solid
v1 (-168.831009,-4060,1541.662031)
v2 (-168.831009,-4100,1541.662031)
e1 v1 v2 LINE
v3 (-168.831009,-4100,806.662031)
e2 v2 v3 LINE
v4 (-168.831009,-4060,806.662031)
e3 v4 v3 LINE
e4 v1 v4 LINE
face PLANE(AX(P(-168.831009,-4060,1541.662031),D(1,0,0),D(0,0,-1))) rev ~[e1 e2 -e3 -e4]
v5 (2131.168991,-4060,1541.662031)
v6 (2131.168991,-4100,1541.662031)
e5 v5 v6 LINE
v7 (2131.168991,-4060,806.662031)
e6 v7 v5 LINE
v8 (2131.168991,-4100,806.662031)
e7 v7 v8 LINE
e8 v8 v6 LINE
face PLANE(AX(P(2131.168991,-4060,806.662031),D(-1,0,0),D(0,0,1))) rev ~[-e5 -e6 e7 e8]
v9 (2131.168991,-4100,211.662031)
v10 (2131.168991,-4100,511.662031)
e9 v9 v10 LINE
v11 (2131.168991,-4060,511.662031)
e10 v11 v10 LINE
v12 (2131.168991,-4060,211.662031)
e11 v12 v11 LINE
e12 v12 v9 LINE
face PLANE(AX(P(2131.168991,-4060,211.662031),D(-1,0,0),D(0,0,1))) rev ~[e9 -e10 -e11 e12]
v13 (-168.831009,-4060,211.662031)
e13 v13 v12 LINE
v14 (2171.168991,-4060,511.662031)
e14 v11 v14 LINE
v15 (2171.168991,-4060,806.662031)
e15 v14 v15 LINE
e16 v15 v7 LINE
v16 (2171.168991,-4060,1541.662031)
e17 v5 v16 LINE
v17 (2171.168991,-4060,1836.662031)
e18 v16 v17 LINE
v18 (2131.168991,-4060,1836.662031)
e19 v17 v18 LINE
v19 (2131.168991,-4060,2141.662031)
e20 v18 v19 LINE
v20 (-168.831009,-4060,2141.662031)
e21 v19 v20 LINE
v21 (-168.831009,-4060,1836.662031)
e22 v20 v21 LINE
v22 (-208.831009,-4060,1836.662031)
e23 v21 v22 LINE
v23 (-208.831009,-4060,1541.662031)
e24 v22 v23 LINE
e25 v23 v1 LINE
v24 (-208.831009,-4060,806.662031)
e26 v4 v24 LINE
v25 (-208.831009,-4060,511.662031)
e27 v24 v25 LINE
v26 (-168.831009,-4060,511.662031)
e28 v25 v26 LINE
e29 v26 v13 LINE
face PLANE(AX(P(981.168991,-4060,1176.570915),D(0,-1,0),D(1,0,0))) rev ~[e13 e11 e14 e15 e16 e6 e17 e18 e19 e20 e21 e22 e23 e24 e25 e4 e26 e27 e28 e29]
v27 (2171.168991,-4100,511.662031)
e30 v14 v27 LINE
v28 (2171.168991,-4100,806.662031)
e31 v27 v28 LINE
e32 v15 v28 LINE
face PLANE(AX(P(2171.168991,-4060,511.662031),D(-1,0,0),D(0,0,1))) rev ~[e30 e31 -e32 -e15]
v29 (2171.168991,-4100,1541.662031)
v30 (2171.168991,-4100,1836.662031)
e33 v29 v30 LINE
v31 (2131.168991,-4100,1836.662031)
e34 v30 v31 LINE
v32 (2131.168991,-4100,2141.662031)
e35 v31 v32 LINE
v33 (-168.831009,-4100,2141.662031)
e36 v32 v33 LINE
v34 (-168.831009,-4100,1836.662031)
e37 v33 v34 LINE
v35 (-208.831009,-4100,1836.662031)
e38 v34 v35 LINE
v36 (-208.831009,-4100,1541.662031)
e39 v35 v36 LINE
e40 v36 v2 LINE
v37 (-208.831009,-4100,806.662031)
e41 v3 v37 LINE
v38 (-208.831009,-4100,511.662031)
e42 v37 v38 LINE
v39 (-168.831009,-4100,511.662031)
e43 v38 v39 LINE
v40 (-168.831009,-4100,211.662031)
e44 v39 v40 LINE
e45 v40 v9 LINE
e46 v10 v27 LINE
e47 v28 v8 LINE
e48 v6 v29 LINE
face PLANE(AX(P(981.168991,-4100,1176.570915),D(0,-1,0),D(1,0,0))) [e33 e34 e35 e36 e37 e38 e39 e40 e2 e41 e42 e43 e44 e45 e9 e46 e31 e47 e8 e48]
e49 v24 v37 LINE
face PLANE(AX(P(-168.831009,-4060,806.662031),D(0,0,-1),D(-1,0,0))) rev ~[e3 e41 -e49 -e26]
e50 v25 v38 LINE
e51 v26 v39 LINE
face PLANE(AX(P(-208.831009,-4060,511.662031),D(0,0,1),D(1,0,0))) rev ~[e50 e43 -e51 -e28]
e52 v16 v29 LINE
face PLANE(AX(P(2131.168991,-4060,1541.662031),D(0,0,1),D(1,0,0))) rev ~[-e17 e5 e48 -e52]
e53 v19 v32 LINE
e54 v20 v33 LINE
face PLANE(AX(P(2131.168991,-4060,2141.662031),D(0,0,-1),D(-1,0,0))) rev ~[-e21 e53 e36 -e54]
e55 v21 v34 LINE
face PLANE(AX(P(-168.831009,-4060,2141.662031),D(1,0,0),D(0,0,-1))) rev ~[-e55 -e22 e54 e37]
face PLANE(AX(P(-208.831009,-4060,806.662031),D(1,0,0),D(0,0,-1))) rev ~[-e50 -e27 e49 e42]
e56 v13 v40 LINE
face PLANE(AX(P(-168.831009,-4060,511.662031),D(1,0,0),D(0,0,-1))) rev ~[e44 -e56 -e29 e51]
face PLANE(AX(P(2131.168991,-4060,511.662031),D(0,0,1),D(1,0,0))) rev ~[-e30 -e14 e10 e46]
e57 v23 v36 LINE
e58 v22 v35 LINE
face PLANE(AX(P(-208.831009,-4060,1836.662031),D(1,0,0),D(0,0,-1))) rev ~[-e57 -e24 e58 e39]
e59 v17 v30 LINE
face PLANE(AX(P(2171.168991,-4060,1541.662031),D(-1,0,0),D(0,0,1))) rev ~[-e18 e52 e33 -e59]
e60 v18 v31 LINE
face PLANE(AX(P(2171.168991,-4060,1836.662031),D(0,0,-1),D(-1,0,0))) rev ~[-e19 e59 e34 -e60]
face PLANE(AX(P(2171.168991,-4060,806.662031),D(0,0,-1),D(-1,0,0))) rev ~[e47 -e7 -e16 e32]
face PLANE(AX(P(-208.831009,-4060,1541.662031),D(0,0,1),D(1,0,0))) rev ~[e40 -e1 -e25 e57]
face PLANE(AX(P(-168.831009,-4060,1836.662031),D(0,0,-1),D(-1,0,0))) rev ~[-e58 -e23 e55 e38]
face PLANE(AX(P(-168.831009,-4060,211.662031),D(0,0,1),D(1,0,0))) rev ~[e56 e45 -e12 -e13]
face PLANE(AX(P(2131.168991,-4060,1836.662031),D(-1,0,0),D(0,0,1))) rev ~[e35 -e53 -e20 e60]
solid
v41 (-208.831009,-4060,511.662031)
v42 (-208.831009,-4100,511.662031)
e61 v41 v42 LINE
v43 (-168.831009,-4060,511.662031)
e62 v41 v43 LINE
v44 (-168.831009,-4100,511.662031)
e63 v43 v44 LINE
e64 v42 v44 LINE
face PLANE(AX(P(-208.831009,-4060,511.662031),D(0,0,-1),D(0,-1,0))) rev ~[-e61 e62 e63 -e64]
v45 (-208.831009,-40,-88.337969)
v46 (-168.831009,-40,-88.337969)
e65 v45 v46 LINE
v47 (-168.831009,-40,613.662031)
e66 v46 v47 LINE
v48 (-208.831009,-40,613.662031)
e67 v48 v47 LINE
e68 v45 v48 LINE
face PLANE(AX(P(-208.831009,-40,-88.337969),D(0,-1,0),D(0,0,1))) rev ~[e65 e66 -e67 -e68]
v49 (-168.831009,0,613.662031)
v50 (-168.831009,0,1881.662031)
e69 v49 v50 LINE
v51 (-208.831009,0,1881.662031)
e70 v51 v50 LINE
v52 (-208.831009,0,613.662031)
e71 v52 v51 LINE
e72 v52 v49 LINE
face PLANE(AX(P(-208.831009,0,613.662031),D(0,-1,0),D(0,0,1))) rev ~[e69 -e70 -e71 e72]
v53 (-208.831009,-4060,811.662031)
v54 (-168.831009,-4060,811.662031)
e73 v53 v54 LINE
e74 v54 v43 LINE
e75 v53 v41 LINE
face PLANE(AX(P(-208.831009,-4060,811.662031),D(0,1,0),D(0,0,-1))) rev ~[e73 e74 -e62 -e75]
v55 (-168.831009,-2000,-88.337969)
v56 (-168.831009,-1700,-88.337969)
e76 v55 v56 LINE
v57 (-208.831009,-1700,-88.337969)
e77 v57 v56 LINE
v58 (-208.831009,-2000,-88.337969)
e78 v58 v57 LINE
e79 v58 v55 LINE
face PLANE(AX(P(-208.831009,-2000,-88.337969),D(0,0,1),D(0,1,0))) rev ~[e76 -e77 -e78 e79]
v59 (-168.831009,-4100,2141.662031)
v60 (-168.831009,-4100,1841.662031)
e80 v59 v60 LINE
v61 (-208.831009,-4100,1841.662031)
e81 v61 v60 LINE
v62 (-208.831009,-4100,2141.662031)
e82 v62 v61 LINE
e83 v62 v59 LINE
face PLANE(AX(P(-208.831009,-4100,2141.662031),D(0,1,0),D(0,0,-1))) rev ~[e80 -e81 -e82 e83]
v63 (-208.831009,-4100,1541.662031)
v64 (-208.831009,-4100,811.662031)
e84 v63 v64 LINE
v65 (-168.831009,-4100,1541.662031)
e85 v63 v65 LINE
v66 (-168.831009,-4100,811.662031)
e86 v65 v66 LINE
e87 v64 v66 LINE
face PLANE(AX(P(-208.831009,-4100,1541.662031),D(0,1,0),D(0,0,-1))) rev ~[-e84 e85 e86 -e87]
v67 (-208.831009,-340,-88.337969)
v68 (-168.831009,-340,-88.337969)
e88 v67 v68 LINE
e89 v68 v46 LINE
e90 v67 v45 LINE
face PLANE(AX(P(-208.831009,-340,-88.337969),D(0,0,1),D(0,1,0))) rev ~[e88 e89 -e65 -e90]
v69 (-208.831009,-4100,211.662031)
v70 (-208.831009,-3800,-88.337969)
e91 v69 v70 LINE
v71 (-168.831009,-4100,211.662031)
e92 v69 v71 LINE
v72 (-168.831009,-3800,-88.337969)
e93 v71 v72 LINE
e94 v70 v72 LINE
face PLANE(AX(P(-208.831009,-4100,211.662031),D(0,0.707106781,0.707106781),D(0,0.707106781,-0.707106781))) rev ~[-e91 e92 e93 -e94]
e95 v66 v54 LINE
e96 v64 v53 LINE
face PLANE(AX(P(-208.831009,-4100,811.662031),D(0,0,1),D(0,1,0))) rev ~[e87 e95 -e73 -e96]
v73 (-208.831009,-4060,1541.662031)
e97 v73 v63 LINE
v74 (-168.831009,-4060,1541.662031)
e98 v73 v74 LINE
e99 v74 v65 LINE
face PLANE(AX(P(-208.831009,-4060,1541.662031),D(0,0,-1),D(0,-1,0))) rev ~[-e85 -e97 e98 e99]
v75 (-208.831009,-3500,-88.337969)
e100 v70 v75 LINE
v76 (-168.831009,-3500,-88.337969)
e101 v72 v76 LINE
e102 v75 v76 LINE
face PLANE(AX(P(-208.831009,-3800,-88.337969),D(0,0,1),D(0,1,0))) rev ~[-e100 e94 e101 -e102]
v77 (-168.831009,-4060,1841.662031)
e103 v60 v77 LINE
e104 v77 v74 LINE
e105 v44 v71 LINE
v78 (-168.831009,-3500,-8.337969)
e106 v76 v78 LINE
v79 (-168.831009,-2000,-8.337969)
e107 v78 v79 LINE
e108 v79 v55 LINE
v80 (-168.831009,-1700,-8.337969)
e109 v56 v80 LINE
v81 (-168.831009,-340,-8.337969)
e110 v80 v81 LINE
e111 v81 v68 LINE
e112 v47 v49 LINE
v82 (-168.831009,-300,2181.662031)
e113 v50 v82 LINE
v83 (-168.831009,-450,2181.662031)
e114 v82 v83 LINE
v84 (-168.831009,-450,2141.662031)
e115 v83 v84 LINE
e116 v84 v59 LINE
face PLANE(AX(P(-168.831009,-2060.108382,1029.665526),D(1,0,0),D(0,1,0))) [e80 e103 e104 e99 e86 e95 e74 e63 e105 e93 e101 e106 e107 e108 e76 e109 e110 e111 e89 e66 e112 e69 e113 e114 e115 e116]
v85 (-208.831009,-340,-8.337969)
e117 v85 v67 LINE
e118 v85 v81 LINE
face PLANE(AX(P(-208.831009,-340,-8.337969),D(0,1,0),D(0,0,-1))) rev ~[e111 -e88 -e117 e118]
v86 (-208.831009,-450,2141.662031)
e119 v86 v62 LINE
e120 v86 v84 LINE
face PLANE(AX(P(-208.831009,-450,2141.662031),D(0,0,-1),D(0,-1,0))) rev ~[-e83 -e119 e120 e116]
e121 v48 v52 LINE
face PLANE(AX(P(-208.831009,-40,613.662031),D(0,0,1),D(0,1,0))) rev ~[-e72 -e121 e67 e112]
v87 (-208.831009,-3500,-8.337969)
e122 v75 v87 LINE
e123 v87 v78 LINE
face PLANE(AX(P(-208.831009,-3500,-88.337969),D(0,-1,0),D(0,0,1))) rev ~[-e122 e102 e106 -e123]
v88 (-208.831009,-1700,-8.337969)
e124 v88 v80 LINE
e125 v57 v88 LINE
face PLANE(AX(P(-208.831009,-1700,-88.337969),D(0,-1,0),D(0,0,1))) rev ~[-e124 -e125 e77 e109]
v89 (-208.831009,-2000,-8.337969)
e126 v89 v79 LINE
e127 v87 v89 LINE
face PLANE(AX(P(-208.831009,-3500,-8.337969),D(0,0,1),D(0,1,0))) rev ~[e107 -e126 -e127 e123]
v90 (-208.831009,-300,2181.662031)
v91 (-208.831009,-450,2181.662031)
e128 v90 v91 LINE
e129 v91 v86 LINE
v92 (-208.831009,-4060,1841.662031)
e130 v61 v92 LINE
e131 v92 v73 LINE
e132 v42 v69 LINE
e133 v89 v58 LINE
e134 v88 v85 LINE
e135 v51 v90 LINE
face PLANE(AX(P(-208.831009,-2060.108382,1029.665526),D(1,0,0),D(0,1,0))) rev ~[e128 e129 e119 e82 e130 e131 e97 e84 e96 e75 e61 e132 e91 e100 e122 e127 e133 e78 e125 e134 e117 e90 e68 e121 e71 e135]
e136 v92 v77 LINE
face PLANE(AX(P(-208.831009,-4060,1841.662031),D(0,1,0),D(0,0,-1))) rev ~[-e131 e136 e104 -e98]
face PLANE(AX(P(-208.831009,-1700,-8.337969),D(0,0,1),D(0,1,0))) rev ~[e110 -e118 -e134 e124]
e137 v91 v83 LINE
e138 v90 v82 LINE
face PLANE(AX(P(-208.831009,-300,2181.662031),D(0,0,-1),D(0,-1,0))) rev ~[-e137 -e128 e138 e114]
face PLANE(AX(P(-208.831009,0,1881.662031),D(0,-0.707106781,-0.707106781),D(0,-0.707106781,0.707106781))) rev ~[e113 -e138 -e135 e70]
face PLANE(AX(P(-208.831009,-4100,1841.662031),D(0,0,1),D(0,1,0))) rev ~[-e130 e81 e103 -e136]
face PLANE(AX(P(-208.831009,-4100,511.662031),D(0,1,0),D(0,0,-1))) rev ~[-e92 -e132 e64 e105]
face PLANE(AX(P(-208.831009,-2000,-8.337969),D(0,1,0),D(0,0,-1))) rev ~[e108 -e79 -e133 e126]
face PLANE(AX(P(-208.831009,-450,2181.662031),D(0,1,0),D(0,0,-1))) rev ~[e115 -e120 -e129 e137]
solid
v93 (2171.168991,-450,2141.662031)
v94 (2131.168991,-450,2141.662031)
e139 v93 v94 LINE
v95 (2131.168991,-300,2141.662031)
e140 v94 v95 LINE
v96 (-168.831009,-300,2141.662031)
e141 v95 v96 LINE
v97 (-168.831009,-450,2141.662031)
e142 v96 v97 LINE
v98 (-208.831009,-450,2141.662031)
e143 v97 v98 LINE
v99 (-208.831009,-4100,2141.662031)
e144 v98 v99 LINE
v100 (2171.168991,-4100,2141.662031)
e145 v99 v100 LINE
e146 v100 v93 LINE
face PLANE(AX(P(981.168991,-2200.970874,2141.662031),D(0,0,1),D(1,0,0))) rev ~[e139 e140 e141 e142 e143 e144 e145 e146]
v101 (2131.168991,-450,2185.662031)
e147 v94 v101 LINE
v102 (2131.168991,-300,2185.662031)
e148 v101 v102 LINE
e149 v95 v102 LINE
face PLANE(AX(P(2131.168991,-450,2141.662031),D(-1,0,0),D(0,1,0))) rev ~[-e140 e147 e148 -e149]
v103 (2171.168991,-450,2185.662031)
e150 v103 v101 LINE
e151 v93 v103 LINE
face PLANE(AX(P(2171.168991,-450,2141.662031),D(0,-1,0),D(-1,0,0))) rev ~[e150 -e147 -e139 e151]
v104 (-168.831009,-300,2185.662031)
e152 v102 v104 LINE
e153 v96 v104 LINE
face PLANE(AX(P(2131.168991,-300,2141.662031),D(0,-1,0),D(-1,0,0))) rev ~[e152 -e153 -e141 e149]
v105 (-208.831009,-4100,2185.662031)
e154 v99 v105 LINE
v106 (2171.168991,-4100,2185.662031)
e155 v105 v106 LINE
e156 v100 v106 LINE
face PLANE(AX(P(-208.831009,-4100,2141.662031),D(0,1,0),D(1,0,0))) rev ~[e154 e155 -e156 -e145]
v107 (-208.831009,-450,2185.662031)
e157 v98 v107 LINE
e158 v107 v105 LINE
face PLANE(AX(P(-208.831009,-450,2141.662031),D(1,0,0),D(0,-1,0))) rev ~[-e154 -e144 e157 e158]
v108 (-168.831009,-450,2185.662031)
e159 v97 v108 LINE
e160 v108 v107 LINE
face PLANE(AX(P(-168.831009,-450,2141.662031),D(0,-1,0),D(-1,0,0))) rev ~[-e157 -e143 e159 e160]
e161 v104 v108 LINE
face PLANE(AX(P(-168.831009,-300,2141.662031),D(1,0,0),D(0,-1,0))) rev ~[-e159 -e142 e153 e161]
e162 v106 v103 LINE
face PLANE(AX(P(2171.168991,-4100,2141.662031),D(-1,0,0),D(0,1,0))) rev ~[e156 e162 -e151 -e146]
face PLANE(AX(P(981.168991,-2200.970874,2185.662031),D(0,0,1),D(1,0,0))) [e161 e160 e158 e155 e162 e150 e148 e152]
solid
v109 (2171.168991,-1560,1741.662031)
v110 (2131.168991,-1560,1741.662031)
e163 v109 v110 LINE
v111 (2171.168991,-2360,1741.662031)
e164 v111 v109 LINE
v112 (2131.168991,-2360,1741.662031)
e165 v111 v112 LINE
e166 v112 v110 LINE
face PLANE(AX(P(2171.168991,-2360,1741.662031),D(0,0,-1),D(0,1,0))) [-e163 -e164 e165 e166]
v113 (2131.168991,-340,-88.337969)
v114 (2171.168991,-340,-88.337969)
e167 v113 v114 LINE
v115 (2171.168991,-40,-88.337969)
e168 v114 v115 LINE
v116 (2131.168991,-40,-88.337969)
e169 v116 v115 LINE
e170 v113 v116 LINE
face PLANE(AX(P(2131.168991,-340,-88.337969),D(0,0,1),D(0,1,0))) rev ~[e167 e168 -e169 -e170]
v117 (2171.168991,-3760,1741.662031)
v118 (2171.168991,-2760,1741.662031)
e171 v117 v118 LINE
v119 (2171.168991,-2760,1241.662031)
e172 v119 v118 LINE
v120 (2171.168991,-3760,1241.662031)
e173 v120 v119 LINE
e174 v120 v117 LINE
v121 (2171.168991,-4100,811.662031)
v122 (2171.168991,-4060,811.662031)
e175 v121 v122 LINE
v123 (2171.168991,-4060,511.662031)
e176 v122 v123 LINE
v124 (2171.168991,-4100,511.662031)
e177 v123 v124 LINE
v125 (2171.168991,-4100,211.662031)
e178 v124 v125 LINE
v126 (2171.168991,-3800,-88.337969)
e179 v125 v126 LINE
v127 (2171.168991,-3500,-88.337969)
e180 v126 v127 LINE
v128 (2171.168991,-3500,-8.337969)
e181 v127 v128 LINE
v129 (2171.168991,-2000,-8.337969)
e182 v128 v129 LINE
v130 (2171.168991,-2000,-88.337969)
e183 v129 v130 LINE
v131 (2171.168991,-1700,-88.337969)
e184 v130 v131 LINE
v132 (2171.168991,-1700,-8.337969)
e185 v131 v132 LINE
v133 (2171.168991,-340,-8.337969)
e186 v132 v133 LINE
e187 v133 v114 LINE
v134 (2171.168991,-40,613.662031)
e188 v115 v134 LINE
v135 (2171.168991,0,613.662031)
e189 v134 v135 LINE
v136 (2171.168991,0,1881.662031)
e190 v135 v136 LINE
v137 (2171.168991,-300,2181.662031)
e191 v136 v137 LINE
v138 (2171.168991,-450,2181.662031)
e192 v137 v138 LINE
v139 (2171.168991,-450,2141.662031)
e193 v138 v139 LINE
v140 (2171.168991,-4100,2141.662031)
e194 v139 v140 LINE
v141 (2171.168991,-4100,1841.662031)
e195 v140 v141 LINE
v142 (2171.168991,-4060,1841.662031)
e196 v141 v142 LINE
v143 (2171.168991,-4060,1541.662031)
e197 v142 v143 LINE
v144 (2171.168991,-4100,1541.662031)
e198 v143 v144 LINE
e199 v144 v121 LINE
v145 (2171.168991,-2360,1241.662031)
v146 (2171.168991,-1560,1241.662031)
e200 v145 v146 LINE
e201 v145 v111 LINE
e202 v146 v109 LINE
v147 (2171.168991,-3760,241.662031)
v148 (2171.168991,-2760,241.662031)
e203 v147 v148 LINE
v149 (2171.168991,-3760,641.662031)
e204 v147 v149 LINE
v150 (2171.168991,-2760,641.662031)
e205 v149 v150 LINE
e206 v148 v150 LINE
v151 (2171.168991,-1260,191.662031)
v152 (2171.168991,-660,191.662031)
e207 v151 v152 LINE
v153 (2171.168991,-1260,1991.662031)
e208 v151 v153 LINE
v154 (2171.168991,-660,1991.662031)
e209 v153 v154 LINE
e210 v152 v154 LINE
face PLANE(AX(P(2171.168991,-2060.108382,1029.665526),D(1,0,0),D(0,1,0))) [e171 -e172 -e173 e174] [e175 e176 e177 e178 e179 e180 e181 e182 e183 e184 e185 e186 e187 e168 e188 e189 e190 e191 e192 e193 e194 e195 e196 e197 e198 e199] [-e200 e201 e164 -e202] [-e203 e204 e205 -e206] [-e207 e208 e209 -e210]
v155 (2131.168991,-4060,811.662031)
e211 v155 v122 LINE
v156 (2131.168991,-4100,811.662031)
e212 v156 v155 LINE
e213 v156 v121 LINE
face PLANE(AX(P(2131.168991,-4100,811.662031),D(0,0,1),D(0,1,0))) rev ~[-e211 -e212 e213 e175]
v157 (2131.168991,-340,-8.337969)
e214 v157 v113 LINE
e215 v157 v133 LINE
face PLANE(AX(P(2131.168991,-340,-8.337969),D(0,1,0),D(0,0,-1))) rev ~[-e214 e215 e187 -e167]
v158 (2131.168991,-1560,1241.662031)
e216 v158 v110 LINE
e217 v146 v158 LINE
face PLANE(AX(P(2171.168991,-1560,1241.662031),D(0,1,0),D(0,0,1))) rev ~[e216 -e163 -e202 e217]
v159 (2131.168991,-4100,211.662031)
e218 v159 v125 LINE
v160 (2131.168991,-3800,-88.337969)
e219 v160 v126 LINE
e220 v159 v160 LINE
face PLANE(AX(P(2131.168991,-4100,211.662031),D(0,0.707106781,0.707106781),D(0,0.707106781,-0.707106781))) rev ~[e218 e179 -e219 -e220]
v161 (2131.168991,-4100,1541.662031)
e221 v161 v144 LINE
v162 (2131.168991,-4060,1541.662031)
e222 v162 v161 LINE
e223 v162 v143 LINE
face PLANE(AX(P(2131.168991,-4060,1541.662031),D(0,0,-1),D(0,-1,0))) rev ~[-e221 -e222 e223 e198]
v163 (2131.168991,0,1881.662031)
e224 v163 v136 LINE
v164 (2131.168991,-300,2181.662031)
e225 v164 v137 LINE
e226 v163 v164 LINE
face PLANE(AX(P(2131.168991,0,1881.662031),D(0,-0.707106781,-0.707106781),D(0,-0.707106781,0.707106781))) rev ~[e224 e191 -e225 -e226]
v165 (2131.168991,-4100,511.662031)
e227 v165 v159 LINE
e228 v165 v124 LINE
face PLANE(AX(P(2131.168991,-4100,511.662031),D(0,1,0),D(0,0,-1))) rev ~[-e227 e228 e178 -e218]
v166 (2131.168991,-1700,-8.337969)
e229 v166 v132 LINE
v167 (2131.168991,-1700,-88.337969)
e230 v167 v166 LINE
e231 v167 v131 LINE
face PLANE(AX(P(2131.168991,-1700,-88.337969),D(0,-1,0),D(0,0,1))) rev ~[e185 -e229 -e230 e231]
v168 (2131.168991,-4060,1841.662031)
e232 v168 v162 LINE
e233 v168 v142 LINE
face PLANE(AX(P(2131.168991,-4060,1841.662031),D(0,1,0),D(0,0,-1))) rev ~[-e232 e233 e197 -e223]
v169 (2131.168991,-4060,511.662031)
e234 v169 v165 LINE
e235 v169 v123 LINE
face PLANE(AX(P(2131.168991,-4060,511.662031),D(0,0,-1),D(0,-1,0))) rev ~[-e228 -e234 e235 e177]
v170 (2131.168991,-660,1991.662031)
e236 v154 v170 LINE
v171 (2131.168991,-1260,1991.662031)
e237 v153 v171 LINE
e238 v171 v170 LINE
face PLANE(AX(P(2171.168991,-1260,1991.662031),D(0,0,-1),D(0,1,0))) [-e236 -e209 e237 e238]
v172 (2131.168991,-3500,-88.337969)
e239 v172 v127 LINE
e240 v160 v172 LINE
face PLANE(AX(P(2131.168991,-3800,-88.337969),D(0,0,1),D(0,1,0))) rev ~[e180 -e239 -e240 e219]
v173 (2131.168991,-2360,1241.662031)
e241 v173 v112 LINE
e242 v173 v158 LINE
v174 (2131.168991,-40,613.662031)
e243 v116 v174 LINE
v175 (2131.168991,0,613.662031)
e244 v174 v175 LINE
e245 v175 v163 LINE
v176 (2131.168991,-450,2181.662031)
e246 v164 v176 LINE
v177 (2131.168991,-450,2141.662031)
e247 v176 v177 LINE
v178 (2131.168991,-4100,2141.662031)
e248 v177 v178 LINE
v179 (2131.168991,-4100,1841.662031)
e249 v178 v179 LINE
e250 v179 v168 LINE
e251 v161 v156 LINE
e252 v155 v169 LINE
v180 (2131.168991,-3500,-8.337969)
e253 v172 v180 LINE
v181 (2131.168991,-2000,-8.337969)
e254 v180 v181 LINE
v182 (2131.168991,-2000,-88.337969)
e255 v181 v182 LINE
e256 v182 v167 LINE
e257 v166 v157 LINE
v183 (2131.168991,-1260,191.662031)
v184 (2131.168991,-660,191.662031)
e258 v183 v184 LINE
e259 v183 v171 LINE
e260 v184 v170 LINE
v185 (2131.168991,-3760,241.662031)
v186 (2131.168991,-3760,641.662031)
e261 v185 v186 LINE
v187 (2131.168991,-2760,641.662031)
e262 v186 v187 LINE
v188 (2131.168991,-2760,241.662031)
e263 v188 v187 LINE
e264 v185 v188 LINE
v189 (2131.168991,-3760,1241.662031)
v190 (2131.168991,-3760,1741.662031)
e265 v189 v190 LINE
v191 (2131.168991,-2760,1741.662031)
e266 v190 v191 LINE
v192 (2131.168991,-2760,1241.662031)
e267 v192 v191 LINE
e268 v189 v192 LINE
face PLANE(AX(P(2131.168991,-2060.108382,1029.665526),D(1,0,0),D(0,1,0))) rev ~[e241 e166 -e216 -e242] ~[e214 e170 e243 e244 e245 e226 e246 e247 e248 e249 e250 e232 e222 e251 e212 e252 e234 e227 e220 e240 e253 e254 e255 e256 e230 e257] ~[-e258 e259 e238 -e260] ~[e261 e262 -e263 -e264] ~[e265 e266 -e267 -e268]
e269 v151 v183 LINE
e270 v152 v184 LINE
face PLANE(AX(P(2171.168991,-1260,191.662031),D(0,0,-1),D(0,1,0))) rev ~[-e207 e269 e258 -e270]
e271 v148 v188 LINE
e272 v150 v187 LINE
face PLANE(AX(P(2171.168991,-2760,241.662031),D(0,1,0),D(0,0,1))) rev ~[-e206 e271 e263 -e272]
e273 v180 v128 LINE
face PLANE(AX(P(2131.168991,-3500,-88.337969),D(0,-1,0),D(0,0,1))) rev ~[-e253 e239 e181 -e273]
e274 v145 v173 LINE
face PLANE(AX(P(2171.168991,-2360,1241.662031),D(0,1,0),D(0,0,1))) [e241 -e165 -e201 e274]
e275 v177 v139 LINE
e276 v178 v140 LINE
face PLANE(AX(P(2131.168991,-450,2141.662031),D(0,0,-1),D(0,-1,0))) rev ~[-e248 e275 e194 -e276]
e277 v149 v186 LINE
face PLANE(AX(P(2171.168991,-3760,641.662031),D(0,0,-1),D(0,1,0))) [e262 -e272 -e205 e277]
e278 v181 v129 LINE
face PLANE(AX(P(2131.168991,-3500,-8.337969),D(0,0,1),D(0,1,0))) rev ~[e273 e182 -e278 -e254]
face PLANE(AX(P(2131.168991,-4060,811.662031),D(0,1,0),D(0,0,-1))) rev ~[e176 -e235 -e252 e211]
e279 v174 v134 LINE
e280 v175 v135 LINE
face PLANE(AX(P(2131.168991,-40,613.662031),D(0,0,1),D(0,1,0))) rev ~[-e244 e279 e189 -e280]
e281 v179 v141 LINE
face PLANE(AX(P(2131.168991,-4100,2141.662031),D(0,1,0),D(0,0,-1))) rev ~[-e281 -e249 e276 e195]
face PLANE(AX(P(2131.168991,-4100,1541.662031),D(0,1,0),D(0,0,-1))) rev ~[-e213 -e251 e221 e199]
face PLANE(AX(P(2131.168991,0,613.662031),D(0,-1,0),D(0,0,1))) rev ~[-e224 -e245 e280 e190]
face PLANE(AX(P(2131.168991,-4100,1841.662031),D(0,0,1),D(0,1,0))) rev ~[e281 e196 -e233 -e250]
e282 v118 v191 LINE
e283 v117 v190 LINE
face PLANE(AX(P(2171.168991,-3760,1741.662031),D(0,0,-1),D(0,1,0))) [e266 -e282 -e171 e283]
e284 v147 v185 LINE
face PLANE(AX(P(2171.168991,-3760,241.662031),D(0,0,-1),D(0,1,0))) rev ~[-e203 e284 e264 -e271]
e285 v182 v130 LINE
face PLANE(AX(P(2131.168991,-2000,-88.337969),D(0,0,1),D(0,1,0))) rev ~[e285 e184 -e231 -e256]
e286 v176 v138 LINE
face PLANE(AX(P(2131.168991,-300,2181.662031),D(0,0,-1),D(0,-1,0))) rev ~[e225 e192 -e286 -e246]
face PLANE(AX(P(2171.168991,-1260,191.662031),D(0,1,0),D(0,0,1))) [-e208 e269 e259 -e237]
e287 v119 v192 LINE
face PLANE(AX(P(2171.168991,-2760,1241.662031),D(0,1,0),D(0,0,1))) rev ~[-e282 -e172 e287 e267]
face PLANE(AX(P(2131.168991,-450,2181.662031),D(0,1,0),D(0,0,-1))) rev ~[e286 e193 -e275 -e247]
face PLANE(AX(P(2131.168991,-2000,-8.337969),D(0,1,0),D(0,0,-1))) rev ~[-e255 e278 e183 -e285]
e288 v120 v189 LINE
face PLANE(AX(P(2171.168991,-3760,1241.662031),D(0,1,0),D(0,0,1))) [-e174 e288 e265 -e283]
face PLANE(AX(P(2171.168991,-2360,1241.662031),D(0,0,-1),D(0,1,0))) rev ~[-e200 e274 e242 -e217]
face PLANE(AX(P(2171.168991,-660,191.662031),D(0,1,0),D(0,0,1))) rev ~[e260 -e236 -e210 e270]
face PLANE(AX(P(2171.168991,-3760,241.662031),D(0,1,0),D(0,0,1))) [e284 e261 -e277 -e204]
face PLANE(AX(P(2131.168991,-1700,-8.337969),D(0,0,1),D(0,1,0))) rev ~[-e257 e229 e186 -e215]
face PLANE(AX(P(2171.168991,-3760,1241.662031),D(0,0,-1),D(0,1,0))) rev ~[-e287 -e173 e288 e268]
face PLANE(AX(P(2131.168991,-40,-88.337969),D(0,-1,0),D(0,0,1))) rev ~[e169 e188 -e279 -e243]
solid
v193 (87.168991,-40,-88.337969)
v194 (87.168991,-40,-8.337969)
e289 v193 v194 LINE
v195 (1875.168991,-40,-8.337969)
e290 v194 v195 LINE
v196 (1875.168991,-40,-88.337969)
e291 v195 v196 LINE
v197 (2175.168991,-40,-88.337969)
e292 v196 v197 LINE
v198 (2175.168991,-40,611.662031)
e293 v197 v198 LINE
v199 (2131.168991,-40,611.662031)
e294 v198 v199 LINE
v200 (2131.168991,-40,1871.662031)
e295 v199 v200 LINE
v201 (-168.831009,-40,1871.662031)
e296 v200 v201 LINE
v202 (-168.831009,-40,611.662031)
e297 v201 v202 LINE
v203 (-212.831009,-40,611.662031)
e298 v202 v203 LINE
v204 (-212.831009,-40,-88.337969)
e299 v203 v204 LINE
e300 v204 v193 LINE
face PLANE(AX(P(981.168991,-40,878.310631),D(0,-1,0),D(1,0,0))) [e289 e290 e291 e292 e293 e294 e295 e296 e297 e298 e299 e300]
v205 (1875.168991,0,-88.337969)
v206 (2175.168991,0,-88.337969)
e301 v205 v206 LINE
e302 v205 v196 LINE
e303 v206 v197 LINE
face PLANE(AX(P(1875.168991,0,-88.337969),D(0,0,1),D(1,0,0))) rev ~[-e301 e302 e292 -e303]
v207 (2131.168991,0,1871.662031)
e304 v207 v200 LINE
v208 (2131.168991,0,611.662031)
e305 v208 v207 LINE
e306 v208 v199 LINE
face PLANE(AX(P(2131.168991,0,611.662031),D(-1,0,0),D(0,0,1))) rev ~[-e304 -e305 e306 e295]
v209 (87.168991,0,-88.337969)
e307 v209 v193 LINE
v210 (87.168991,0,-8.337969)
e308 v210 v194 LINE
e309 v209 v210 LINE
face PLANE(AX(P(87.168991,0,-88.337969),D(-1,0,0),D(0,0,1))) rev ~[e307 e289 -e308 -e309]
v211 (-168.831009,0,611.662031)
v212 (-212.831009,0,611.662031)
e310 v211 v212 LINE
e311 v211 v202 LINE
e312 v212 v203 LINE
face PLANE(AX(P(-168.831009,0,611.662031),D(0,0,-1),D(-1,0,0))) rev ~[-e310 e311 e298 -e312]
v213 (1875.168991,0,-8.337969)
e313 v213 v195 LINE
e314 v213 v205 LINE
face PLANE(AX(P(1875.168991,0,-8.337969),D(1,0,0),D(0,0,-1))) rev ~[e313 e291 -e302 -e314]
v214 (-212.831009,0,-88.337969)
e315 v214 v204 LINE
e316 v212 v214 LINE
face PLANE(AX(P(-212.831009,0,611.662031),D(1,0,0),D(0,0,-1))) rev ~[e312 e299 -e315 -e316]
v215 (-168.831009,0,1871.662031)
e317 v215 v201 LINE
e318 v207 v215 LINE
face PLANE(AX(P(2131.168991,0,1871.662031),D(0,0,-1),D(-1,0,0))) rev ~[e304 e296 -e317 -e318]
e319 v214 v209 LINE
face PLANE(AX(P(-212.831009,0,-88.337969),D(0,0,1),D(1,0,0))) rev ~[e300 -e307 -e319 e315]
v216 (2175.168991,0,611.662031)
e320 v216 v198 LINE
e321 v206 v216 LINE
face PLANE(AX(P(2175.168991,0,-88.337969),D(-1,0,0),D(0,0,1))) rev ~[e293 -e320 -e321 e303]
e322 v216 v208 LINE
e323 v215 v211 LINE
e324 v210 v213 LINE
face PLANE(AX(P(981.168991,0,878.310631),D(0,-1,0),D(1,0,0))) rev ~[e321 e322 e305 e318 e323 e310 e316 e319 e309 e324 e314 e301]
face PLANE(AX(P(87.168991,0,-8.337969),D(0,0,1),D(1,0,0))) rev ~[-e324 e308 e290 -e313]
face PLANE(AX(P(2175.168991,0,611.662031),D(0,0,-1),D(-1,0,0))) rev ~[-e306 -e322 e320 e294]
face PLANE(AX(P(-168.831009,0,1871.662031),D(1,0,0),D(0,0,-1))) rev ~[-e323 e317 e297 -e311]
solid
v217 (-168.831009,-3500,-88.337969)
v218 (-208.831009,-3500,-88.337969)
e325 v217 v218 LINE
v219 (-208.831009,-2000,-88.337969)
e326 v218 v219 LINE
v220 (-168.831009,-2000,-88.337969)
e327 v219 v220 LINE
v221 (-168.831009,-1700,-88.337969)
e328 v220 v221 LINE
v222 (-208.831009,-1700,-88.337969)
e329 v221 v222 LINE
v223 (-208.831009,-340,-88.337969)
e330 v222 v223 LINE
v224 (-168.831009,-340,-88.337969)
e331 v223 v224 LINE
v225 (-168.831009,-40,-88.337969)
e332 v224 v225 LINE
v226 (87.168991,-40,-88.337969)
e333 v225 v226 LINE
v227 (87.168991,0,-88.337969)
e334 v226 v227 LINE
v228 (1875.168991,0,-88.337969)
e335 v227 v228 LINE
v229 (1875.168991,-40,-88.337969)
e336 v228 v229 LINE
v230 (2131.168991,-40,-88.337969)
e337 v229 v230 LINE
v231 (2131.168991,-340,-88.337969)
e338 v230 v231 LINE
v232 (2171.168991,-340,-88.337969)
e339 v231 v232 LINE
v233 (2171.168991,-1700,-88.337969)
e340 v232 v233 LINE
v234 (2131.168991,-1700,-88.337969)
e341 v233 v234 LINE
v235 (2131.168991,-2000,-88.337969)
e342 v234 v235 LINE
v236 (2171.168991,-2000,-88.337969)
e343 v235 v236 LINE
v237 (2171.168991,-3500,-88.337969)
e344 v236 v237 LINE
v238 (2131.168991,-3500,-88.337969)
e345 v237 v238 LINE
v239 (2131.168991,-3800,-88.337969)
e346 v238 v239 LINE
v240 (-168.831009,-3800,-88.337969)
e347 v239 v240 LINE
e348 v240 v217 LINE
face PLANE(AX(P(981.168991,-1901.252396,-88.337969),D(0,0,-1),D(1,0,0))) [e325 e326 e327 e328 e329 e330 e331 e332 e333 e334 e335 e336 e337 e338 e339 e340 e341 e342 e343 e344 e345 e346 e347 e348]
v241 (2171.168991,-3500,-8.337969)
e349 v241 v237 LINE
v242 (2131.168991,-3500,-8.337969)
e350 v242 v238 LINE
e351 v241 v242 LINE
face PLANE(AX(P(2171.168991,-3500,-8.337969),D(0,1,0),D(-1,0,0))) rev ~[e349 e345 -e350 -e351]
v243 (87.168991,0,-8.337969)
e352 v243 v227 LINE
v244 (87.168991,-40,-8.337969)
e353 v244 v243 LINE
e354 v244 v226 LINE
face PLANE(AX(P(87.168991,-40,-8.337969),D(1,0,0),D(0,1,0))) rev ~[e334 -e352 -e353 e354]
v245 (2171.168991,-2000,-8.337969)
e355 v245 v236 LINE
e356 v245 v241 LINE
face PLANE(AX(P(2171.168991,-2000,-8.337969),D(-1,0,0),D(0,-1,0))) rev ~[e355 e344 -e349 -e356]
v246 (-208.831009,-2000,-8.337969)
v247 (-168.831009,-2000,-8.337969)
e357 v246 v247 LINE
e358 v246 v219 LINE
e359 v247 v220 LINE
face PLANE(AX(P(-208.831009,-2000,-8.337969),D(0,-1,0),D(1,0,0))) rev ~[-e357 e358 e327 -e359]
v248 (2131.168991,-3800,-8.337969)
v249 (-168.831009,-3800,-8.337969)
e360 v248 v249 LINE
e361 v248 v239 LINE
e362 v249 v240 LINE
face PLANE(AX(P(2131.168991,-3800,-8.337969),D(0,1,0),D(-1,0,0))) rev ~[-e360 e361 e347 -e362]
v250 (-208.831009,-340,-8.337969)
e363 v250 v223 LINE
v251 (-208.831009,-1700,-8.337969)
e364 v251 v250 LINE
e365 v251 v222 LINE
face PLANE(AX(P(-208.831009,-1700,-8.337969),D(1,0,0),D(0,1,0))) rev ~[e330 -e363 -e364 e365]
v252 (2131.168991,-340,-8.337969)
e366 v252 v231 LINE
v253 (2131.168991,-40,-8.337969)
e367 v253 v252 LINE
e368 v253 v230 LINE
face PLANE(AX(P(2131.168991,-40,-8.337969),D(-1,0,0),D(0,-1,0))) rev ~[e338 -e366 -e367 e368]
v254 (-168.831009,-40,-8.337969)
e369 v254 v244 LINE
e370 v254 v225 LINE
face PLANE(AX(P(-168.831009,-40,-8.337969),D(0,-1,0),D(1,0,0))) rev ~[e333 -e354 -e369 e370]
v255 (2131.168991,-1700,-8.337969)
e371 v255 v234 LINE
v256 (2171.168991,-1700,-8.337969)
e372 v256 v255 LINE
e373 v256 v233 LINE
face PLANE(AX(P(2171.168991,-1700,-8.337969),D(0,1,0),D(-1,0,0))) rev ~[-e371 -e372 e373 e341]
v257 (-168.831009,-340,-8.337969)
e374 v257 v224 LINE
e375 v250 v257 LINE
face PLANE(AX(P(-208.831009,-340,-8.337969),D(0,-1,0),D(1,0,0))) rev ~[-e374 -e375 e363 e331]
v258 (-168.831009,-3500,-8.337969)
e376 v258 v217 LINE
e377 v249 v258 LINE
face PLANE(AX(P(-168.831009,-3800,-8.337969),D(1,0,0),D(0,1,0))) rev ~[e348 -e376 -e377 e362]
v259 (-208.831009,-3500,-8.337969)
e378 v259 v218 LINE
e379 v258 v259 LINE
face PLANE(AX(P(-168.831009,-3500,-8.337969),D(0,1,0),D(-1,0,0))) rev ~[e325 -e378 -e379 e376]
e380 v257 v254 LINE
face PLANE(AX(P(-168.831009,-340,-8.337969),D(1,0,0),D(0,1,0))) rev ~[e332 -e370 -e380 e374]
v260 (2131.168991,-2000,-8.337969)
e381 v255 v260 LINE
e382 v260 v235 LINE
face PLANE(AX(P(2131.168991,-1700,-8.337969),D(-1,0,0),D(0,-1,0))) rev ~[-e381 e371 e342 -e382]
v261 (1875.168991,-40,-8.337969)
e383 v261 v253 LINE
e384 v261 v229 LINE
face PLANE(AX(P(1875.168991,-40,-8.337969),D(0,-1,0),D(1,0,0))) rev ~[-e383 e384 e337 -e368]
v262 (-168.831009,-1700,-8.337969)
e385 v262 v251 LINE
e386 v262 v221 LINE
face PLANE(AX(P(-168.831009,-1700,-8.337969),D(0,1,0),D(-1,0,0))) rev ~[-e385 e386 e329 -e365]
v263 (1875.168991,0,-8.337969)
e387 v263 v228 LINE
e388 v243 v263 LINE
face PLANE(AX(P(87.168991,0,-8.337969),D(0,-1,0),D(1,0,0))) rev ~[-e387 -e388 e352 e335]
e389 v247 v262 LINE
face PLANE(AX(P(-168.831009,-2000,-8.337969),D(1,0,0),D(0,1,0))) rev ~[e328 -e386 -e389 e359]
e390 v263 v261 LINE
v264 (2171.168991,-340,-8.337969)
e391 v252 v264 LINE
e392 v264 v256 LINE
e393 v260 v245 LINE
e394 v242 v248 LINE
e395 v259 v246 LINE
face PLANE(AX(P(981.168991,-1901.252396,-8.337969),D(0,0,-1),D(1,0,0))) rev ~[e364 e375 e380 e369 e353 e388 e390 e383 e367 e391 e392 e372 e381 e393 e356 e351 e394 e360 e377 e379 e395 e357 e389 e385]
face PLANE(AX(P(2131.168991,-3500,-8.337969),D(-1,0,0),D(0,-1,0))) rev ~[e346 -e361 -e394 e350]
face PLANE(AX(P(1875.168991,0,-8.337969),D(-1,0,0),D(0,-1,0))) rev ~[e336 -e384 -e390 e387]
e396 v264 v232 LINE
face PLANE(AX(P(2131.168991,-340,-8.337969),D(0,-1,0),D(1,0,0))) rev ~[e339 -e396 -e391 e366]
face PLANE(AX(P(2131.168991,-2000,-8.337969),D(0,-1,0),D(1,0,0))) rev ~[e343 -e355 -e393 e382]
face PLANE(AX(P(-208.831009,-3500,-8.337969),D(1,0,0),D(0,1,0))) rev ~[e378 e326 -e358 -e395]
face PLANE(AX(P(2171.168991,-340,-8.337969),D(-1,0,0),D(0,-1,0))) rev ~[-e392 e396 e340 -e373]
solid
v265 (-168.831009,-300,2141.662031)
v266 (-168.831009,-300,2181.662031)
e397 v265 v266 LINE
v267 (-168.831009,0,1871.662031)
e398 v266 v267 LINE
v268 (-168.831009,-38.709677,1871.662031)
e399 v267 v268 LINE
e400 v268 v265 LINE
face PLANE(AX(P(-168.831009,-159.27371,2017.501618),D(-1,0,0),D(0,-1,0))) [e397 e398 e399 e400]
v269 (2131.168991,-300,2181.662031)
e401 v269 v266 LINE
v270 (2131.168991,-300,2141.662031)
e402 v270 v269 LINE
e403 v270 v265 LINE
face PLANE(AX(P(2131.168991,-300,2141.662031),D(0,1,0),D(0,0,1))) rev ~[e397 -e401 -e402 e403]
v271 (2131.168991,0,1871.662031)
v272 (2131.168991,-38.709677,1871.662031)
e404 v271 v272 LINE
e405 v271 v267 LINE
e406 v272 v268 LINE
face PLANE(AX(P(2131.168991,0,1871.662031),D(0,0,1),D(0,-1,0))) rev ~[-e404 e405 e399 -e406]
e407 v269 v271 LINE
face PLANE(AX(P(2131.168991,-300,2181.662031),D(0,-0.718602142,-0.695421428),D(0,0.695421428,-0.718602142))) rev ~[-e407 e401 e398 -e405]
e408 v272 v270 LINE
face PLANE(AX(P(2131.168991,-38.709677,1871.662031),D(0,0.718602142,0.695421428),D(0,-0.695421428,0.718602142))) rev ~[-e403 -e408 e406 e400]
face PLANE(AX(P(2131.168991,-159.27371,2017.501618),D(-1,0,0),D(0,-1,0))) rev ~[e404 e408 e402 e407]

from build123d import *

# Parameters (mm, degrees)
F1_DEPTH  = 40
F3_DEPTH  = 40
F6_DEPTH  = 40
F8_DEPTH  = 44
F10_DEPTH = 2300
F12_DEPTH = 80
F13_W     = 1000
F13_H     = 500
F13_W_2   = 800
F13_W_3   = 600
F13_H_2   = 1800
F13_H_3   = 400
F14_DEPTH = 40


with BuildPart() as f1:
    # F0 (on Front) → F1 (new body)
    with BuildSketch(Plane.XZ):
        Polygon((1875.1689910889, -88.3379688097), (2175.1689910889, -88.3379688097), (2175.1689910889, 611.6620311903), (2131.1689910889, 611.6620311903), (2131.1689910889, 1871.6620311903), (-168.8310089111, 1871.6620311903), (-168.8310089111, 611.6620311903), (-212.8310089111, 611.6620311903), (-212.8310089111, -88.3379688097), (87.1689910889, -88.3379688097), (87.1689910889, -8.3379688097), (1875.1689910889, -8.3379688097), align=None)
    extrude(amount=F1_DEPTH)


with BuildPart() as f3:
    # F2 (on face) → F3 (new body)
    with BuildSketch(Plane.YZ.offset(2131.1689910889)):
        Polygon((-340, -88.3379688097), (-40, -88.3379688097), (-40, 613.6620311903), (0, 613.6620311903), (0, 1881.6620311903), (-300, 2181.6620311903), (-450, 2181.6620311903), (-450, 2141.6620311903), (-4100, 2141.6620311903), (-4100, 1841.6620311903), (-4060, 1841.6620311903), (-4060, 1541.6620311903), (-4100, 1541.6620311903), (-4100, 811.6620311903), (-4060, 811.6620311903), (-4060, 511.6620311903), (-4100, 511.6620311903), (-4100, 211.6620311903), (-3800, -88.3379688097), (-3500, -88.3379688097), (-3500, -8.3379688097), (-2000, -8.3379688097), (-2000, -88.3379688097), (-1700, -88.3379688097), (-1700, -8.3379688097), (-340, -8.3379688097), align=None)
    extrude(amount=F3_DEPTH)


with BuildPart() as f4_1:
    # F4: copy of F3
    add(f3.part.moved(Location((-2340, 0, 0))))


with BuildPart() as f6:
    # F5 (on face) → F6 (new body)
    with BuildSketch(Plane.XZ.offset(4060)):
        Polygon((2171.1689910889, 1541.6620311903), (2171.1689910889, 1836.6620311903), (2131.1689910889, 1836.6620311903), (2131.1689910889, 2141.6620311903), (-168.8310089111, 2141.6620311903), (-168.8310089111, 1836.6620311903), (-208.8310089111, 1836.6620311903), (-208.8310089111, 1541.6620311903), (-168.8310089111, 1541.6620311903), (-168.8310089111, 806.6620311903), (-208.8310089111, 806.6620311903), (-208.8310089111, 511.6620311903), (-168.8310089111, 511.6620311903), (-168.8310089111, 211.6620311903), (2131.1689910889, 211.6620311903), (2131.1689910889, 511.6620311903), (2171.1689910889, 511.6620311903), (2171.1689910889, 806.6620311903), (2131.1689910889, 806.6620311903), (2131.1689910889, 1541.6620311903), align=None)
    extrude(amount=F6_DEPTH)


with BuildPart() as f8:
    # F7 (on face) → F8 (new body)
    with BuildSketch(Plane.XY.offset(2141.6620311903)):
        Polygon((-208.8310089111, -450), (-208.8310089111, -4100), (2171.1689910889, -4100), (2171.1689910889, -450), (2131.1689910889, -450), (2131.1689910889, -300), (-168.8310089111, -300), (-168.8310089111, -450), align=None)
    extrude(amount=F8_DEPTH)


with BuildPart() as f10:
    # F9 (on face) → F10 (new body, through all)
    with BuildSketch(Plane(origin=(2131.1689910889, 0, 0), x_dir=(0, -1, 0), z_dir=(-1, 0, 0))):
        Polygon((300, 2141.6620311903), (300, 2181.6620311903), (0, 1871.6620311903), (38.7096774194, 1871.6620311903), align=None)
    extrude(amount=F10_DEPTH)


with BuildPart() as f12:
    # F11 (on face) → F12 (new body)
    with BuildSketch(Plane(origin=(0, 0, -8.3379688097), x_dir=(1, 0, 0), z_dir=(0, 0, -1))):
        Polygon((2131.1689910889, 3500), (2131.1689910889, 3800), (-168.8310089111, 3800), (-168.8310089111, 3500), (-208.8310089111, 3500), (-208.8310089111, 2000), (-168.8310089111, 2000), (-168.8310089111, 1700), (-208.8310089111, 1700), (-208.8310089111, 340), (-168.8310089111, 340), (-168.8310089111, 40), (87.1689910889, 40), (87.1689910889, 0), (1875.1689910889, 0), (1875.1689910889, 40), (2131.1689910889, 40), (2131.1689910889, 340), (2171.1689910889, 340), (2171.1689910889, 1700), (2131.1689910889, 1700), (2131.1689910889, 2000), (2171.1689910889, 2000), (2171.1689910889, 3500), align=None)
    extrude(amount=F12_DEPTH)


with BuildPart() as f3_1:
    add(f3.part)

    # F13 (on face) → F14 (cut, through all)
    with BuildSketch(Plane.YZ.offset(2171.1689910889)):
        with Locations((-3260, 1491.6620311903)):
            Rectangle(F13_W, F13_H)
        with Locations((-1960, 1491.6620311903)):
            Rectangle(F13_W_2, F13_H)
        with Locations((-960, 1091.6620311903)):
            Rectangle(F13_W_3, F13_H_2)
        with Locations((-3260, 441.6620311903)):
            Rectangle(F13_W, F13_H_3)
    extrude(amount=-F14_DEPTH, mode=Mode.SUBTRACT)


solid = Compound([f1.part, f4_1.part, f6.part, f8.part, f10.part, f12.part, f3_1.part])
